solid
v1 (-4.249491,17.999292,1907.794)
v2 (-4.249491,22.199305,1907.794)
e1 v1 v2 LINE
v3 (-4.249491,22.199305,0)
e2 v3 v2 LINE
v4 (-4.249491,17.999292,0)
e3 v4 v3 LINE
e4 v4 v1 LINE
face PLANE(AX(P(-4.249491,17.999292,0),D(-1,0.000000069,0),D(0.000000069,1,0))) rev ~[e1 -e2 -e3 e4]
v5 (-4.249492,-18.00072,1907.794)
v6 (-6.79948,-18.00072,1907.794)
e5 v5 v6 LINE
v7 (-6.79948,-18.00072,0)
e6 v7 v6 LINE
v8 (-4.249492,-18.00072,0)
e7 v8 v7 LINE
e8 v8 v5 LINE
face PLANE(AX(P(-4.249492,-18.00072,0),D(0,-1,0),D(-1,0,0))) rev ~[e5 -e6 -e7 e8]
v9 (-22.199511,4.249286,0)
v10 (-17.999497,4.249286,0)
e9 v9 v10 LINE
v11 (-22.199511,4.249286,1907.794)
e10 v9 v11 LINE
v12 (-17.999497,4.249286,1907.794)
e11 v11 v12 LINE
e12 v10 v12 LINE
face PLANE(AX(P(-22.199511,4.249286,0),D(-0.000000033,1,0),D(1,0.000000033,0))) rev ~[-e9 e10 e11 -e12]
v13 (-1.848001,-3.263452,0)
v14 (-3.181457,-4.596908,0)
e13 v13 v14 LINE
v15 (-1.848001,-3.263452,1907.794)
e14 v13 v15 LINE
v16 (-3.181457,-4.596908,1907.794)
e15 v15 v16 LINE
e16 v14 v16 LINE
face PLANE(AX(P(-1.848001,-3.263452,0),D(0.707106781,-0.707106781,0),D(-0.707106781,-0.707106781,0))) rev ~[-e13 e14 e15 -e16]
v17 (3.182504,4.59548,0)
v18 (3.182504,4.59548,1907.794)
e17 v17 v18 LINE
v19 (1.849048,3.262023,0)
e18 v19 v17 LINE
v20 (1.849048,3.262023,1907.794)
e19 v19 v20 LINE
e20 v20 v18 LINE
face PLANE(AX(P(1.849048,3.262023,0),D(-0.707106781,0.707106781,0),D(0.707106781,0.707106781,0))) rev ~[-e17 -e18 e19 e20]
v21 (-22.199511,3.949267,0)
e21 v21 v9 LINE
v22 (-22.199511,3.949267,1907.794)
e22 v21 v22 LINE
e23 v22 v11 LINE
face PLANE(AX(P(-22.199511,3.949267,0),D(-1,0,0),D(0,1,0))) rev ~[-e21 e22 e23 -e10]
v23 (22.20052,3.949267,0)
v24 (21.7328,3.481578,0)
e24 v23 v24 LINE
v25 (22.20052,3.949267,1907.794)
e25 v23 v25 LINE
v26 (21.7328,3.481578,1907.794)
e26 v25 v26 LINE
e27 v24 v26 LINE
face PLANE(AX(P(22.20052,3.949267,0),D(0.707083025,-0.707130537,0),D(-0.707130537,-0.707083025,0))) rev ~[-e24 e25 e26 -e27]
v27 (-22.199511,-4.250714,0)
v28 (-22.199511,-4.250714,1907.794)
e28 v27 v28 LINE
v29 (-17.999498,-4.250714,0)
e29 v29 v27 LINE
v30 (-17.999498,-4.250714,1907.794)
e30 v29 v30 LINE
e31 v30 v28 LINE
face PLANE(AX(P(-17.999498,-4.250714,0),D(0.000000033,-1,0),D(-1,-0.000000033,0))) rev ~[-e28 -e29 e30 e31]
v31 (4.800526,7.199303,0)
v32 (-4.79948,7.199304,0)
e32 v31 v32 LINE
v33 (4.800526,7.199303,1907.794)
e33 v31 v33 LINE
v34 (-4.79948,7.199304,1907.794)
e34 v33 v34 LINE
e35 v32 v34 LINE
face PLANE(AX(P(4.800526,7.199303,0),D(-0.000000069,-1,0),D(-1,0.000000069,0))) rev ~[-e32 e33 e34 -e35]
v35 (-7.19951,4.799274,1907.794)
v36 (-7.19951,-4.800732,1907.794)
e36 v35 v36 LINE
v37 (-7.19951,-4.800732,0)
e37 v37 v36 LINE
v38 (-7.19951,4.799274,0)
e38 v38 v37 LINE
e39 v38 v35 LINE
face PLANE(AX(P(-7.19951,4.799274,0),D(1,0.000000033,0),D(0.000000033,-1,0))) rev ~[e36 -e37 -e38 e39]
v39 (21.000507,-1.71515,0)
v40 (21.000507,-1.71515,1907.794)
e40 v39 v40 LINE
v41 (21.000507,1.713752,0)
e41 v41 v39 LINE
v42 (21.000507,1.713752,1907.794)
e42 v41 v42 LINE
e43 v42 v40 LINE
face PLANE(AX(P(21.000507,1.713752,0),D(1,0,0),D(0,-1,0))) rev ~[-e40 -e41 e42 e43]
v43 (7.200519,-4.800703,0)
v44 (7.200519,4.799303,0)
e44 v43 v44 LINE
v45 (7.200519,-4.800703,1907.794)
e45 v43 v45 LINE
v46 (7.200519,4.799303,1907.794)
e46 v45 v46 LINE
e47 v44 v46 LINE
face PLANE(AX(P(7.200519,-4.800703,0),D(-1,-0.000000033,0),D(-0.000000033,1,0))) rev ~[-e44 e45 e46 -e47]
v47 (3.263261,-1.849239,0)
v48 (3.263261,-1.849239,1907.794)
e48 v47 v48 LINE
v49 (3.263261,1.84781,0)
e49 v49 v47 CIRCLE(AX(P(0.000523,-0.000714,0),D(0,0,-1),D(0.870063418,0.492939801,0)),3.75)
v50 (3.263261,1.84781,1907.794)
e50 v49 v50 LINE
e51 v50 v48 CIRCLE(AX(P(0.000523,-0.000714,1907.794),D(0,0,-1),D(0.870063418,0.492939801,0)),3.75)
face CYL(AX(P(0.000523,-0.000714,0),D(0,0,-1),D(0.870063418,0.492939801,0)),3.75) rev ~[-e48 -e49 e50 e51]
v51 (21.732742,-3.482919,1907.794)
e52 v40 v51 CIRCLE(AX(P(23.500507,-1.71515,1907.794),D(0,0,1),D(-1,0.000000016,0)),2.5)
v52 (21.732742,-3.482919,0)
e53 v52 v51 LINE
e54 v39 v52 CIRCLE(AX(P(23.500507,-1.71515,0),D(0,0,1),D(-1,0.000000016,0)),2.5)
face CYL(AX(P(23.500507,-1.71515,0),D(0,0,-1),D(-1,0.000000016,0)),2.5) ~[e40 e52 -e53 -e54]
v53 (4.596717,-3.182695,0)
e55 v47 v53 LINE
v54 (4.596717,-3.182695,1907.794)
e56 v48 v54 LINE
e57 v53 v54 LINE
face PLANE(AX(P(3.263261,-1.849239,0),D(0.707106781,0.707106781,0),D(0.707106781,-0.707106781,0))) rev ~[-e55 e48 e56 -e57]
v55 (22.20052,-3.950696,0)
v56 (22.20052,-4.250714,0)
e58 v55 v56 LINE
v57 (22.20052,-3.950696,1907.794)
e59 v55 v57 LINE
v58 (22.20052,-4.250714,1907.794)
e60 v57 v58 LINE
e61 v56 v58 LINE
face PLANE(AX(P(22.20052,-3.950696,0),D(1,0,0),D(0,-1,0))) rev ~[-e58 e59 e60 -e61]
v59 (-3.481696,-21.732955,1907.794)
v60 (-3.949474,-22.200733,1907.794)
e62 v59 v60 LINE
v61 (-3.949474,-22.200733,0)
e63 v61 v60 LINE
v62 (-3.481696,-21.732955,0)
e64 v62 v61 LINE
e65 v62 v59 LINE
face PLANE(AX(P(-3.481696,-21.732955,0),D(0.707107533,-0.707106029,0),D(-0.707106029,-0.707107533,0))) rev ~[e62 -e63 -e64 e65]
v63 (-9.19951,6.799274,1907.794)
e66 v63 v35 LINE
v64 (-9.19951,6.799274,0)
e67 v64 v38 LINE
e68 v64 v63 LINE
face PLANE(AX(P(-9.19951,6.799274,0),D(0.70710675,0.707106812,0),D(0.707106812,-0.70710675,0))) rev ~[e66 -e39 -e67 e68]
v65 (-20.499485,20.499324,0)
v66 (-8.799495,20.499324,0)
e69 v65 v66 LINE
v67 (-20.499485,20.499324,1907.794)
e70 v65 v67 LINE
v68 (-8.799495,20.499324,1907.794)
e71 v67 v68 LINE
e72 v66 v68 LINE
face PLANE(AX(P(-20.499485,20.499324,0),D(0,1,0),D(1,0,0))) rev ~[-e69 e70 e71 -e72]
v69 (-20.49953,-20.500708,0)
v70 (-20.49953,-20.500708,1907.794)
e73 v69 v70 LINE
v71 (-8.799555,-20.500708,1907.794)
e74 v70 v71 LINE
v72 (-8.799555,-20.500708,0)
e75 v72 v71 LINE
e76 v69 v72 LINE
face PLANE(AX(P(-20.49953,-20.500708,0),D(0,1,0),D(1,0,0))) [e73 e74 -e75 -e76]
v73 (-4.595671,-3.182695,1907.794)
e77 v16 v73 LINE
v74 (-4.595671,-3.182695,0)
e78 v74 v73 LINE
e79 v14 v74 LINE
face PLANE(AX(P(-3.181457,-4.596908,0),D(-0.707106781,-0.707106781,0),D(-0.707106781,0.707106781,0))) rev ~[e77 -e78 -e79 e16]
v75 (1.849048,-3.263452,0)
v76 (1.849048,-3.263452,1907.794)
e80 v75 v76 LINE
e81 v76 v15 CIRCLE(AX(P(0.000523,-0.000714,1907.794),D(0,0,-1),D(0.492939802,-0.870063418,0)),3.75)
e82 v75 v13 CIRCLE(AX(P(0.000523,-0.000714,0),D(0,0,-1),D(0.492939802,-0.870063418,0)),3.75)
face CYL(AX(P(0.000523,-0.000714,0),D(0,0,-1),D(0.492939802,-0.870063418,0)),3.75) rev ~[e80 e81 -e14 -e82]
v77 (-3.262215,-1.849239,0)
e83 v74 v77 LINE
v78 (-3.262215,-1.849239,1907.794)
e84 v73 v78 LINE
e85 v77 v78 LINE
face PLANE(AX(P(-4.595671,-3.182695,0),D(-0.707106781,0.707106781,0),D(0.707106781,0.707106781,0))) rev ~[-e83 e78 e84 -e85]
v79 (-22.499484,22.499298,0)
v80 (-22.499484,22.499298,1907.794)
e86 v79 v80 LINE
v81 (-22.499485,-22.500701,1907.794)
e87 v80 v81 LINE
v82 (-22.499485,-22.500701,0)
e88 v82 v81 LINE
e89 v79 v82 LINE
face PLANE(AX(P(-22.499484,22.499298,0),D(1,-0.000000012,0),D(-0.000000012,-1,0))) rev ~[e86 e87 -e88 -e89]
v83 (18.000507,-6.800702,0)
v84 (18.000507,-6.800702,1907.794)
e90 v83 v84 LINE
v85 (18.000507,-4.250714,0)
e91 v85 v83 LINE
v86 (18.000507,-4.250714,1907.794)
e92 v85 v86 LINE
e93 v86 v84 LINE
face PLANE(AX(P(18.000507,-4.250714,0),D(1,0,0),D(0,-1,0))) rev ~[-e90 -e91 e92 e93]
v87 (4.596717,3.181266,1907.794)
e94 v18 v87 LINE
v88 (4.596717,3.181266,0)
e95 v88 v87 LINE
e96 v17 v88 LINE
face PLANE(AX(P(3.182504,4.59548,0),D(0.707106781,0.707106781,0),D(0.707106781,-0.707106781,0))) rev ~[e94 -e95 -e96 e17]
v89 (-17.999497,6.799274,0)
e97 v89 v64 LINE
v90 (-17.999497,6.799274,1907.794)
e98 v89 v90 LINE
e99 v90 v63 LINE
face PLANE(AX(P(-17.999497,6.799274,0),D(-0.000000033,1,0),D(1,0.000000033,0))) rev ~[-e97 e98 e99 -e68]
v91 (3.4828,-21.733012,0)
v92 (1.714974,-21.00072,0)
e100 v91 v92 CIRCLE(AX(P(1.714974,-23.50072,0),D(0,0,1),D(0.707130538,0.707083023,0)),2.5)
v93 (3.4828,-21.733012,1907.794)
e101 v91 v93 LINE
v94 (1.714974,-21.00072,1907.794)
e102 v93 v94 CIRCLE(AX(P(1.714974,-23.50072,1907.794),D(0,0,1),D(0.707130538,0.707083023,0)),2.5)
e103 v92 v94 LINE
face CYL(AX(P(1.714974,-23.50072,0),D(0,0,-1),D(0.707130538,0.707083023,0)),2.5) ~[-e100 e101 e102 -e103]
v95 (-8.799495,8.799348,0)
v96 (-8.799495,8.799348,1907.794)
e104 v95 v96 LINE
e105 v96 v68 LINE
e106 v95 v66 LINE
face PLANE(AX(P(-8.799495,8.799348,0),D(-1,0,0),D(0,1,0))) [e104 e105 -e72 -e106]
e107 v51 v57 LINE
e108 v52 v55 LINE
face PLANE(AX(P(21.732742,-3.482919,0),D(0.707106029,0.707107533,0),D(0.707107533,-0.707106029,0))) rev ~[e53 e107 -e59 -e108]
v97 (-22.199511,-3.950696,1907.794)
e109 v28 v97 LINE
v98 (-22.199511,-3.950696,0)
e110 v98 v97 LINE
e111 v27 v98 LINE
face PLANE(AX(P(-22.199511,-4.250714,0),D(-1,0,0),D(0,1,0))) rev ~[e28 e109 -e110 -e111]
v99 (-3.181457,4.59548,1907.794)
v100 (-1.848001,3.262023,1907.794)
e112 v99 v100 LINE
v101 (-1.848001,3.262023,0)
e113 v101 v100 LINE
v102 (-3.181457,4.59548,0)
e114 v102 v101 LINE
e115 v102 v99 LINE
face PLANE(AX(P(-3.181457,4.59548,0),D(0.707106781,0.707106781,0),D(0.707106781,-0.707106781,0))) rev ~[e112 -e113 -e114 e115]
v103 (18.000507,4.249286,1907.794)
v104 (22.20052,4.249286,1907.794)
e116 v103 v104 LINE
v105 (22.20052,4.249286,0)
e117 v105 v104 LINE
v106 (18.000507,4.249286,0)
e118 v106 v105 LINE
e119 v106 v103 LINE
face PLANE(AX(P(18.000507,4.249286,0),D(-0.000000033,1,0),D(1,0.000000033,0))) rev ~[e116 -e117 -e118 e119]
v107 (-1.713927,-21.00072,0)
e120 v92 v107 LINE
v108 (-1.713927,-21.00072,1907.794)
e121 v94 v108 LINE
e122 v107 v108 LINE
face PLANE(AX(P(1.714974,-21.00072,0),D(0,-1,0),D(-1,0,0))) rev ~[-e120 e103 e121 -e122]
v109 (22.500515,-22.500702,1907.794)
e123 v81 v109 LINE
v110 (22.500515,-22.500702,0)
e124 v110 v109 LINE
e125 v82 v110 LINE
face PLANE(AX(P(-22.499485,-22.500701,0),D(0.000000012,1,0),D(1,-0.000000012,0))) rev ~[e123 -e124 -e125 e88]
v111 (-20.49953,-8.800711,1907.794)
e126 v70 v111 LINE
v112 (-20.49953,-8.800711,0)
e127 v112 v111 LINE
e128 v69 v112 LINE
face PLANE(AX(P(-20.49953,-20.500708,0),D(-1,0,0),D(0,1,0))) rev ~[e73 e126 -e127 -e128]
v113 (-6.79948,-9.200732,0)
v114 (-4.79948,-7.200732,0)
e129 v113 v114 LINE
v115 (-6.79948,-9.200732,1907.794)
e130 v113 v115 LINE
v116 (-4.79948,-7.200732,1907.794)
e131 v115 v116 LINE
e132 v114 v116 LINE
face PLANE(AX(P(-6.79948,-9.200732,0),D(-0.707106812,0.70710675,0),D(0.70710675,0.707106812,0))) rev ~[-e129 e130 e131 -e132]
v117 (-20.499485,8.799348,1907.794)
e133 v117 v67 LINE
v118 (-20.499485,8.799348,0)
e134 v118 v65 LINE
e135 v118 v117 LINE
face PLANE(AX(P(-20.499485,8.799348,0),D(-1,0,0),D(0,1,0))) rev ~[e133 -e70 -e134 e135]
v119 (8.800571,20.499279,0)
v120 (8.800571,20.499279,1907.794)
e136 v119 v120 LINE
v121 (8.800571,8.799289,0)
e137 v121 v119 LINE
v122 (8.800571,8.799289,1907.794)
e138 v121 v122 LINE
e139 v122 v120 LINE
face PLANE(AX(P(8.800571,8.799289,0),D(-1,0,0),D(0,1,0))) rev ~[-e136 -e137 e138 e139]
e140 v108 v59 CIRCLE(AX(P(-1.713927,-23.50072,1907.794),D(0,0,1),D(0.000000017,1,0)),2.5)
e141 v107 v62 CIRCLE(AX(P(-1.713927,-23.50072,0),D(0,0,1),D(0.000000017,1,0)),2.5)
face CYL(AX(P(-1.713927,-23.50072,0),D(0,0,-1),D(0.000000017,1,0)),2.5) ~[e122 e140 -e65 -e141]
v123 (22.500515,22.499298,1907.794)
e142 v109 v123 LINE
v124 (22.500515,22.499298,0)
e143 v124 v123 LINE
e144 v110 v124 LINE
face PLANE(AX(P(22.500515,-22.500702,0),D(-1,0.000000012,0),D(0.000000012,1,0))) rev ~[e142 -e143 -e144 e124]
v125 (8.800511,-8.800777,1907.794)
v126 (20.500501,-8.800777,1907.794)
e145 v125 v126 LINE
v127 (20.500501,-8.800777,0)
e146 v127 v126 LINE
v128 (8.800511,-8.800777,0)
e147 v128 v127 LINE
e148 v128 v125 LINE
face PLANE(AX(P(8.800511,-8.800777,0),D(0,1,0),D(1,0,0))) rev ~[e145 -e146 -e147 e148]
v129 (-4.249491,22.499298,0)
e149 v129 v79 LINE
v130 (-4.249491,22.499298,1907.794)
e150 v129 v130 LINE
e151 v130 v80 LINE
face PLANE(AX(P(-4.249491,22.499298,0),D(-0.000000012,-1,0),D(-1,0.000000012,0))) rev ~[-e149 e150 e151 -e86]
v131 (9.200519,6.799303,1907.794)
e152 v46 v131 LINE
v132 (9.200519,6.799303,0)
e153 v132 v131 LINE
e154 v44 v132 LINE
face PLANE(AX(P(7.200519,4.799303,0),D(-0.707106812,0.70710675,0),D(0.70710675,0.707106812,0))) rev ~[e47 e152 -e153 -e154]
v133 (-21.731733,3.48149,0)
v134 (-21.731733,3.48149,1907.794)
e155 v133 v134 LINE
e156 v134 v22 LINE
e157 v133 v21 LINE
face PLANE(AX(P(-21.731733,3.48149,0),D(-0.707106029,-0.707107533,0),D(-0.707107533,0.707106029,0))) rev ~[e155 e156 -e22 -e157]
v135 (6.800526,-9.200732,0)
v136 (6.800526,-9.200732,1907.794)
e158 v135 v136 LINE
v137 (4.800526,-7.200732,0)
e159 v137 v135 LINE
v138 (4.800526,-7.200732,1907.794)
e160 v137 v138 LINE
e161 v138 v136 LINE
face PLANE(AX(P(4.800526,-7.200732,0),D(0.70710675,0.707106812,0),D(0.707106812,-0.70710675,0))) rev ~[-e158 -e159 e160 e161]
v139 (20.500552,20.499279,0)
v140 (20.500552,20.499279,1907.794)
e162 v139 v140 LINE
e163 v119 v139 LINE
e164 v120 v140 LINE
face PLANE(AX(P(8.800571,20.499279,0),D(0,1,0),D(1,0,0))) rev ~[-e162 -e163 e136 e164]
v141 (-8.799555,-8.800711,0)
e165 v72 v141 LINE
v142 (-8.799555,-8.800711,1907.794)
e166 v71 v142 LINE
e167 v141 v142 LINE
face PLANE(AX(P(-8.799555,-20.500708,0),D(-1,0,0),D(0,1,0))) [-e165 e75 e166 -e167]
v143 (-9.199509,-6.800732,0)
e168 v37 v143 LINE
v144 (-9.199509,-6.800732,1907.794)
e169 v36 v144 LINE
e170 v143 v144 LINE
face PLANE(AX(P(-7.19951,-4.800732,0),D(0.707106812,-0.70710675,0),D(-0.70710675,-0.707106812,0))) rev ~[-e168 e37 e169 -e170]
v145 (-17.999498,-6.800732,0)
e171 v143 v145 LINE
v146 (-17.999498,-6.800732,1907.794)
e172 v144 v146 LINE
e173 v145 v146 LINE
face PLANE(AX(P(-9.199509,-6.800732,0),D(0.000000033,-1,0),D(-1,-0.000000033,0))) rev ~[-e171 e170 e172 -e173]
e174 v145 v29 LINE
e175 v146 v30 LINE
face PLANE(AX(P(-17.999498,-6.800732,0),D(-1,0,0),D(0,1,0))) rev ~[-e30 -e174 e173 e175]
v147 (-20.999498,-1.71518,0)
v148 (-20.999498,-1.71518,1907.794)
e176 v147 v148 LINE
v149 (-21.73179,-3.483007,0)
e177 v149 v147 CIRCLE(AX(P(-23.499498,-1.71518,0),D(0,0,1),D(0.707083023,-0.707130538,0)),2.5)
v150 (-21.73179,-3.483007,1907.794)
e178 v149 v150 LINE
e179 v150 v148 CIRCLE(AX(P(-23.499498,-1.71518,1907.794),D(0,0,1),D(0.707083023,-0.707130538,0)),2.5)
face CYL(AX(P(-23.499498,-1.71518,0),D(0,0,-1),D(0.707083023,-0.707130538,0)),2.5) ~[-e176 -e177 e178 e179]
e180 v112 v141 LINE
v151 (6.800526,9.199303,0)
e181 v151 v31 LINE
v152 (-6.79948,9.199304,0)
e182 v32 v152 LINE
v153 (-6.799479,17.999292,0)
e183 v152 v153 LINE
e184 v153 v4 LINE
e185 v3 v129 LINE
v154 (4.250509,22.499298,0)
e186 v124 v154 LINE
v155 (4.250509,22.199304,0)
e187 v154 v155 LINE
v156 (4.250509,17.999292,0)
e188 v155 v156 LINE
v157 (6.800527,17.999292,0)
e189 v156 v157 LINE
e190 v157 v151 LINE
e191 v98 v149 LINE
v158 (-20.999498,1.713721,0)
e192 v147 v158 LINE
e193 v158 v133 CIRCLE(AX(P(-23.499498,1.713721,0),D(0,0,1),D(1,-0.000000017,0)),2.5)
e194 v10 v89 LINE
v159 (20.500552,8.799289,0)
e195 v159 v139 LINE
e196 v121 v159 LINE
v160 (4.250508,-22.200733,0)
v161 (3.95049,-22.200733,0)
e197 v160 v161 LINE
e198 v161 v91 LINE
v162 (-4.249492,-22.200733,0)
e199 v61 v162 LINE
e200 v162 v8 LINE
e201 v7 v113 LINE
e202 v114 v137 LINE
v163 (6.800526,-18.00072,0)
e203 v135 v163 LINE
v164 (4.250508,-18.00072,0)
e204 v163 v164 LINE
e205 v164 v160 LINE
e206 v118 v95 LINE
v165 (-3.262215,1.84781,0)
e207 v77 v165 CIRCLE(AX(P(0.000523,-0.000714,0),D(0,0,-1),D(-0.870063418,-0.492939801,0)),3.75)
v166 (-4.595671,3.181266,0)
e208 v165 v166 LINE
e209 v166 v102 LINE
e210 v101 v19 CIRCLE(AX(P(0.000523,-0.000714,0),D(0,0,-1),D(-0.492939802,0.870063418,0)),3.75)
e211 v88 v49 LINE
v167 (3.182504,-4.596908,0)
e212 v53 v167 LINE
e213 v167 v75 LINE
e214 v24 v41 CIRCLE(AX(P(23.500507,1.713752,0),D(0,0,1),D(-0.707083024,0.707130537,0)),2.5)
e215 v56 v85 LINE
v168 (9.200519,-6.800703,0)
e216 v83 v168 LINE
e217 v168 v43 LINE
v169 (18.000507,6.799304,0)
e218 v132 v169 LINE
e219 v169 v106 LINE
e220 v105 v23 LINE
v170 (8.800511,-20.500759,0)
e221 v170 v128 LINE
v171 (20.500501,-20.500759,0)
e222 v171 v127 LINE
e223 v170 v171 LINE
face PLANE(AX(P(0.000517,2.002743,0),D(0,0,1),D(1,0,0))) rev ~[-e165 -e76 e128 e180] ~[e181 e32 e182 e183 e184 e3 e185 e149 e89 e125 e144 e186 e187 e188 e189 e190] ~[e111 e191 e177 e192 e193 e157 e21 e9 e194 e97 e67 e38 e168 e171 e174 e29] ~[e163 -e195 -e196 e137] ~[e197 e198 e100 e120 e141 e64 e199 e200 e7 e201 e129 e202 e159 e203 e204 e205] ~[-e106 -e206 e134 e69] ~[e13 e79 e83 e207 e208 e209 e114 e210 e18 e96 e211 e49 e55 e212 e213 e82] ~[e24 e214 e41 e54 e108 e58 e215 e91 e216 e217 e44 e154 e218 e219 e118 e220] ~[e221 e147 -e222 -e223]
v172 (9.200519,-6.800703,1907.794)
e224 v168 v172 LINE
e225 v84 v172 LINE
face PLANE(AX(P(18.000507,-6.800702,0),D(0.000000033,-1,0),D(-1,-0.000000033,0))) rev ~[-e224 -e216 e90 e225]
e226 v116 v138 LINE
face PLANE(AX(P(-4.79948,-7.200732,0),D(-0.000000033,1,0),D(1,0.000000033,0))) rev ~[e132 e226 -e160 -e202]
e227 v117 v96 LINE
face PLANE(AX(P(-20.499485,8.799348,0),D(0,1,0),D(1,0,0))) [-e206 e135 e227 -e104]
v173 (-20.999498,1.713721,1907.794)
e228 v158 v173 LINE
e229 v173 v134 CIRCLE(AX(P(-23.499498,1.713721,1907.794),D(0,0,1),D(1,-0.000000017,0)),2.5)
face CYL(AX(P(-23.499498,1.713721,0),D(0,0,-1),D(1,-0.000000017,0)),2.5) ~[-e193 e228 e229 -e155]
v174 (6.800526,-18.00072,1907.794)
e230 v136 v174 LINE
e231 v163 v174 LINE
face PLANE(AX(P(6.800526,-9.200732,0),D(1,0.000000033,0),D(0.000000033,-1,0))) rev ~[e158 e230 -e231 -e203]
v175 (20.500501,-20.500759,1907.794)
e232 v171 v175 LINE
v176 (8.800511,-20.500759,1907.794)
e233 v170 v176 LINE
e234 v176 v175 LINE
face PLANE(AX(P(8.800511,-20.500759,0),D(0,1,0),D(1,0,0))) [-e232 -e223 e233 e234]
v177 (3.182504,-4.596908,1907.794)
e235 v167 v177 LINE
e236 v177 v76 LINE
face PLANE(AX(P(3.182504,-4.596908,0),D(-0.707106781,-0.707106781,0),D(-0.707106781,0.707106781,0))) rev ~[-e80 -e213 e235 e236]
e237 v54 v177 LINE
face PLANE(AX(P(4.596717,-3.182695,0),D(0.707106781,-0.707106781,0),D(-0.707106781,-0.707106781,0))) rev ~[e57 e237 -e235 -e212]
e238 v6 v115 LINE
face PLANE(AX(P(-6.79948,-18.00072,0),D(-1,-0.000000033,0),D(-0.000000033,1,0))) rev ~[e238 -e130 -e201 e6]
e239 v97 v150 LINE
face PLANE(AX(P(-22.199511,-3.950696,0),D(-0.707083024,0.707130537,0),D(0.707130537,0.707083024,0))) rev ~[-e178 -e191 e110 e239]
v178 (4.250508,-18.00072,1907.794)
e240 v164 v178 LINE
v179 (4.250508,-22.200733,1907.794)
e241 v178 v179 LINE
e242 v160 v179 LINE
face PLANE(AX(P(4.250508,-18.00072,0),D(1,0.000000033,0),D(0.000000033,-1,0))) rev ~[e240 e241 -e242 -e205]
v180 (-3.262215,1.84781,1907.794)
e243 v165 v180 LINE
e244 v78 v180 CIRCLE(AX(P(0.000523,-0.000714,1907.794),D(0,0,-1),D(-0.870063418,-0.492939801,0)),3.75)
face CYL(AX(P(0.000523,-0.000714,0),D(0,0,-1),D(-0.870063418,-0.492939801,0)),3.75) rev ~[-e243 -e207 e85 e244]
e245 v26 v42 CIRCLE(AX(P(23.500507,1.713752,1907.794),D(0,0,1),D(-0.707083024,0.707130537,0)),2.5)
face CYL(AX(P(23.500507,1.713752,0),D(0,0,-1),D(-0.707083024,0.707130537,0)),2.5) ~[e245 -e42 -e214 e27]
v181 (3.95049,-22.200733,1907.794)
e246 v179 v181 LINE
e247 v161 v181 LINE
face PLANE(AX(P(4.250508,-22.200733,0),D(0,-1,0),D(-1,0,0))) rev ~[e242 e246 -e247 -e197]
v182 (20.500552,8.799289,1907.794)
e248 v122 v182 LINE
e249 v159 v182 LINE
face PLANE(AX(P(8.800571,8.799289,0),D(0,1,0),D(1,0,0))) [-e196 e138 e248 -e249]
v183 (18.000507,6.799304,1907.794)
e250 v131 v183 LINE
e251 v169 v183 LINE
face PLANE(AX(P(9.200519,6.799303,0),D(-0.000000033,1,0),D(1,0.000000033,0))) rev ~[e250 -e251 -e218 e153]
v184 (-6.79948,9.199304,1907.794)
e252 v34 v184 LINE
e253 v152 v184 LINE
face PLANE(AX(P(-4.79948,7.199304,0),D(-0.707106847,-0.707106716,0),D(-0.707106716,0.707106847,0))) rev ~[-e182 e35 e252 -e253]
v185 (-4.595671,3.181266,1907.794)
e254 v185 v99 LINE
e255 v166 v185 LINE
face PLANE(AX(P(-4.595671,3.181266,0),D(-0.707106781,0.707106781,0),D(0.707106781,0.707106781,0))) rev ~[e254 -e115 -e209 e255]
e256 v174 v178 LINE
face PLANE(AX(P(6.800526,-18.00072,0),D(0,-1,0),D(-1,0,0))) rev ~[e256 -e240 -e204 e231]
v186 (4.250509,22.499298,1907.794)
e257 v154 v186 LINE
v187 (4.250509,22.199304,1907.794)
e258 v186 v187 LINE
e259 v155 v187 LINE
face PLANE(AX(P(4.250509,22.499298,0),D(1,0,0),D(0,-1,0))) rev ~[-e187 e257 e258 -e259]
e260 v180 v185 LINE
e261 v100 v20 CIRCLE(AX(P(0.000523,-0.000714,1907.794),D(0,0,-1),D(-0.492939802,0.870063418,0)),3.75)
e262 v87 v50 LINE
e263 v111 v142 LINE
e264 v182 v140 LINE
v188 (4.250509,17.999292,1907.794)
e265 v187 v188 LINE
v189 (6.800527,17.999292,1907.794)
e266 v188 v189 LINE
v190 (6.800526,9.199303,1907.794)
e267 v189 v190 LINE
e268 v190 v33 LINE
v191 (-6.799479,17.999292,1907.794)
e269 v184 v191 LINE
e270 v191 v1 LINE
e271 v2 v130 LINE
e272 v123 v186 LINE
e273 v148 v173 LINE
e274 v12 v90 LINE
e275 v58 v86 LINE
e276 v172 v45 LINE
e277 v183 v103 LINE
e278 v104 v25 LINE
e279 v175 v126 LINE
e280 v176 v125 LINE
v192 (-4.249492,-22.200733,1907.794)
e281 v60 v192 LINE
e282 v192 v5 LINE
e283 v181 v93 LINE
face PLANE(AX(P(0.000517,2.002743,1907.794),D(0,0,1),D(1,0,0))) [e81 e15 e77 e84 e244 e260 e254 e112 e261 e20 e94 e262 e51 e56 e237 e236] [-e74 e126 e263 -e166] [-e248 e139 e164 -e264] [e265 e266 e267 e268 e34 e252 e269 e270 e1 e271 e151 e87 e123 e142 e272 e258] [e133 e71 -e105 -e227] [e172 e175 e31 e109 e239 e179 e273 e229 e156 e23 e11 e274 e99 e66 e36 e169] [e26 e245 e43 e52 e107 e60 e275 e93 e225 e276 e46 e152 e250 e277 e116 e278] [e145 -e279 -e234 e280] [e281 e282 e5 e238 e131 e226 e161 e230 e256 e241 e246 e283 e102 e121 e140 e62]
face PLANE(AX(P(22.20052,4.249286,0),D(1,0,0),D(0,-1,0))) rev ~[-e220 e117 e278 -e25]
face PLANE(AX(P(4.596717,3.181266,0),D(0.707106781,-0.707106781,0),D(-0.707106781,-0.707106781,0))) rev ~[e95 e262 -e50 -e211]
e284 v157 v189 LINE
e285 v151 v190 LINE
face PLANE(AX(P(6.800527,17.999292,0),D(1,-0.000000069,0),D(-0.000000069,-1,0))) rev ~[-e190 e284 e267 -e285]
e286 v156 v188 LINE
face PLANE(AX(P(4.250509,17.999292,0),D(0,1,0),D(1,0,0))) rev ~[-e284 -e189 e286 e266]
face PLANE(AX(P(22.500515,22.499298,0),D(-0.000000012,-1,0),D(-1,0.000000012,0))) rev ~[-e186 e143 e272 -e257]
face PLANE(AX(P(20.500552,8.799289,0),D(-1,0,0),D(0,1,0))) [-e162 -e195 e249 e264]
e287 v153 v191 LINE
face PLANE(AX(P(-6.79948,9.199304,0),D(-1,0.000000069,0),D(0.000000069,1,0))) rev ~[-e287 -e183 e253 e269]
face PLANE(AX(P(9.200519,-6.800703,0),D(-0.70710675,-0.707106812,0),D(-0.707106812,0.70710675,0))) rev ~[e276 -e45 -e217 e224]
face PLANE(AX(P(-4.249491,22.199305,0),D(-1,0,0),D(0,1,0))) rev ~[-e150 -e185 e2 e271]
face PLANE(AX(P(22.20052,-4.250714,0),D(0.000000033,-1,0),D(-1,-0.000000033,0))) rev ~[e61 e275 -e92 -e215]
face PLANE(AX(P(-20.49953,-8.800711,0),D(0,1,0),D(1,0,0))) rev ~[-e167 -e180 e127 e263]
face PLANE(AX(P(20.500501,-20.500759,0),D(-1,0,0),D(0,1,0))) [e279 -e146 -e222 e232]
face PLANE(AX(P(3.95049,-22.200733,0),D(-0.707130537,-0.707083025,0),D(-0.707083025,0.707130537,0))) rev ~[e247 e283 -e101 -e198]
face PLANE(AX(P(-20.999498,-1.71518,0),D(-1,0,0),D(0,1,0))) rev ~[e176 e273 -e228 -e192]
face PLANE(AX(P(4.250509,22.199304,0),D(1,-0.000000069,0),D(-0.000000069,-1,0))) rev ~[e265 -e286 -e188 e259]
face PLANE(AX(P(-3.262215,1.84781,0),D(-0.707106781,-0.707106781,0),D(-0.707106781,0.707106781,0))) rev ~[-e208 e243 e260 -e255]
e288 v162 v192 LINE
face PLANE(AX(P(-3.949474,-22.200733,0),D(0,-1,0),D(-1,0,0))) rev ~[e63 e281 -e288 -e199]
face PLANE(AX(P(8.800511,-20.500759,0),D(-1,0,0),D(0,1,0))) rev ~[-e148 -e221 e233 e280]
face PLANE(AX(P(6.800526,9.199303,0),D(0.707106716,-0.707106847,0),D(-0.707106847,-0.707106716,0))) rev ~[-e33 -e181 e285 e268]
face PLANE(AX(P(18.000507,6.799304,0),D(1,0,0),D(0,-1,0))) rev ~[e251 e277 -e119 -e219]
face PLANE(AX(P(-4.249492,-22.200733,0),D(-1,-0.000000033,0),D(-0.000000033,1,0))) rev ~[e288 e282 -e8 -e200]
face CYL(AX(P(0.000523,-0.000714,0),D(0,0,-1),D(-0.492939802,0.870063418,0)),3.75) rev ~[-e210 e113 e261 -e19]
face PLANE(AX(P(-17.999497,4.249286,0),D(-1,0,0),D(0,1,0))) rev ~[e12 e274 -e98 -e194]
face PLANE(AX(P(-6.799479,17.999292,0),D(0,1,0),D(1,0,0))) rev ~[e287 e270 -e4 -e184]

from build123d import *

# Parameters (mm, degrees)
SKETCH1_W           = 11.699975178
SKETCH1_H           = 11.699996949
SKETCH1_W_2         = 11.699990436
SKETCH1_H_2         = 11.699981689
SKETCH1_W_3         = 11.699990437
SKETCH1_H_3         = 11.699975177
SKETCH1_W_4         = 11.699981689
SKETCH1_H_4         = 11.699990436
BOSS_EXTRUDE1_DEPTH = 1907.794


with BuildPart() as part:
    # Sketch1 → Boss-Extrude1 (new body)
    with BuildSketch(Plane.XY):
        Polygon((-4.249491247, 17.999291576), (-4.249490956, 22.199304807), (-4.249490956, 22.499297883), (-22.499484399, 22.499298105), (-22.499484948, -22.500701346), (22.500514502, -22.500701895), (22.500515052, 22.499297556), (4.250509108, 22.499297779), (4.250509108, 22.199304487), (4.250508817, 17.999291575), (6.800527063, 17.999291575), (6.800526453, 9.199302988), (4.800526064, 7.199302969), (-4.799479817, 7.199303635), (-6.799479854, 9.199304042), (-6.799479244, 17.999291576), align=None)
        with Locations((-14.649542346, -14.650709384)):
            Rectangle(SKETCH1_W, SKETCH1_H, mode=Mode.SUBTRACT)
        with BuildLine():
            Line((-22.199510799, -4.250714391), (-22.199510799, -3.950696126))
            Line((-22.199510799, -3.950696126), (-21.731790056, -3.48300681))
            ThreePointArc((-21.731790056, -3.48300681), (-21.189814855, -2.671927844), (-20.999497617, -1.71518046))
            Line((-20.999497617, -1.71518046), (-20.999497617, 1.713721031))
            ThreePointArc((-20.999497617, 1.713721031), (-21.189799286, 2.670430863), (-21.731732544, 3.481489907))
            Line((-21.731732544, 3.481489907), (-22.199510888, 3.949267256))
            Line((-22.199510888, 3.949267256), (-22.199510888, 4.249285566))
            Line((-22.199510888, 4.249285566), (-17.999497356, 4.249285704))
            Line((-17.999497356, 4.249285704), (-17.999497356, 6.79927354))
            Line((-17.999497356, 6.79927354), (-9.199509947, 6.799273828))
            Line((-9.199509947, 6.799273828), (-7.199509956, 4.799274012))
            Line((-7.199509956, 4.799274012), (-7.199509641, -4.800732197))
            Line((-7.199509641, -4.800732197), (-9.199509449, -6.800732179))
            Line((-9.199509449, -6.800732179), (-17.99949762, -6.800732468))
            Line((-17.99949762, -6.800732468), (-17.99949762, -4.250714253))
            Line((-17.99949762, -4.250714253), (-22.199510799, -4.250714391))
        make_face(mode=Mode.SUBTRACT)
        with BuildLine():
            Line((-4.24949208, -18.000719999), (-6.799479919, -18.000719999))
            Line((-6.799479919, -18.000719999), (-6.799480207, -9.200732353))
            Line((-6.799480207, -9.200732353), (-4.799480391, -7.200732362))
            Line((-4.799480391, -7.200732362), (4.800525817, -7.200732047))
            Line((4.800525817, -7.200732047), (6.8005258, -9.200731855))
            Line((6.8005258, -9.200731855), (6.800526088, -18.000720263))
            Line((6.800526088, -18.000720263), (4.250507877, -18.000720263))
            Line((4.250507877, -18.000720263), (4.250508015, -22.200733153))
            Line((4.250508015, -22.200733153), (3.950489751, -22.200733153))
            Line((3.950489751, -22.200733153), (3.482800434, -21.73301241))
            ThreePointArc((3.482800434, -21.73301241), (2.671721468, -21.191037209), (1.714974084, -21.000719971))
            Line((1.714974084, -21.000719971), (-1.713927407, -21.000719971))
            ThreePointArc((-1.713927407, -21.000719971), (-2.670637239, -21.19102164), (-3.481696283, -21.732954898))
            Line((-3.481696283, -21.732954898), (-3.949473632, -22.200733242))
            Line((-3.949473632, -22.200733242), (-4.249491942, -22.200733242))
            Line((-4.249491942, -22.200733242), (-4.24949208, -18.000719999))
        make_face(mode=Mode.SUBTRACT)
        with Locations((14.65050626, -14.650767962)):
            Rectangle(SKETCH1_W_2, SKETCH1_H_2, mode=Mode.SUBTRACT)
        with BuildLine():
            Line((-3.181457266, -4.596908447), (-4.595670829, -3.182694885))
            Line((-4.595670829, -3.182694885), (-3.26221457, -1.849238626))
            ThreePointArc((-3.26221457, -1.849238626), (-3.749476751, -0.00071437), (-3.26221457, 1.847809887))
            Line((-3.26221457, 1.847809887), (-4.595670829, 3.181266146))
            Line((-4.595670829, 3.181266146), (-3.181457266, 4.595479708))
            Line((-3.181457266, 4.595479708), (-1.848001007, 3.262023449))
            ThreePointArc((-1.848001007, 3.262023449), (0.000523249, 3.74928563), (1.849047505, 3.262023449))
            Line((1.849047505, 3.262023449), (3.182503764, 4.595479708))
            Line((3.182503764, 4.595479708), (4.596717327, 3.181266146))
            Line((4.596717327, 3.181266146), (3.263261068, 1.847809887))
            ThreePointArc((3.263261068, 1.847809887), (3.750523249, -0.00071437), (3.263261068, -1.849238626))
            Line((3.263261068, -1.849238626), (4.596717327, -3.182694885))
            Line((4.596717327, -3.182694885), (3.182503764, -4.596908447))
            Line((3.182503764, -4.596908447), (1.849047505, -3.263452188))
            ThreePointArc((1.849047505, -3.263452188), (0.000523249, -3.75071437), (-1.848001007, -3.263452188))
            Line((-1.848001007, -3.263452188), (-3.181457266, -4.596908447))
        make_face(mode=Mode.SUBTRACT)
        with Locations((-14.64949028, 14.649335967)):
            Rectangle(SKETCH1_W_3, SKETCH1_H_3, mode=Mode.SUBTRACT)
        with BuildLine():
            Line((9.200519462, -6.800702567), (7.200519471, -4.800702751))
            Line((7.200519471, -4.800702751), (7.200519156, 4.799303458))
            Line((7.200519156, 4.799303458), (9.200518964, 6.79930344))
            Line((9.200518964, 6.79930344), (18.000507424, 6.799303729))
            Line((18.000507424, 6.799303729), (18.000507424, 4.249285514))
            Line((18.000507424, 4.249285514), (22.200520261, 4.249285652))
            Line((22.200520261, 4.249285652), (22.200520261, 3.949267391))
            Line((22.200520261, 3.949267391), (21.732799519, 3.481578075))
            ThreePointArc((21.732799519, 3.481578075), (21.190824318, 2.670499108), (21.000507079, 1.713751724))
            Line((21.000507079, 1.713751724), (21.000507079, -1.715149766))
            ThreePointArc((21.000507079, -1.715149766), (21.190808749, -2.671859599), (21.732742007, -3.482918643))
            Line((21.732742007, -3.482918643), (22.200520351, -3.950695992))
            Line((22.200520351, -3.950695992), (22.200520351, -4.250714302))
            Line((22.200520351, -4.250714302), (18.000507108, -4.25071444))
            Line((18.000507108, -4.25071444), (18.000507108, -6.800702279))
            Line((18.000507108, -6.800702279), (9.200519462, -6.800702567))
        make_face(mode=Mode.SUBTRACT)
        with Locations((14.650561583, 14.6492839)):
            Rectangle(SKETCH1_W_4, SKETCH1_H_4, mode=Mode.SUBTRACT)
    extrude(amount=BOSS_EXTRUDE1_DEPTH)


solid = part.part
